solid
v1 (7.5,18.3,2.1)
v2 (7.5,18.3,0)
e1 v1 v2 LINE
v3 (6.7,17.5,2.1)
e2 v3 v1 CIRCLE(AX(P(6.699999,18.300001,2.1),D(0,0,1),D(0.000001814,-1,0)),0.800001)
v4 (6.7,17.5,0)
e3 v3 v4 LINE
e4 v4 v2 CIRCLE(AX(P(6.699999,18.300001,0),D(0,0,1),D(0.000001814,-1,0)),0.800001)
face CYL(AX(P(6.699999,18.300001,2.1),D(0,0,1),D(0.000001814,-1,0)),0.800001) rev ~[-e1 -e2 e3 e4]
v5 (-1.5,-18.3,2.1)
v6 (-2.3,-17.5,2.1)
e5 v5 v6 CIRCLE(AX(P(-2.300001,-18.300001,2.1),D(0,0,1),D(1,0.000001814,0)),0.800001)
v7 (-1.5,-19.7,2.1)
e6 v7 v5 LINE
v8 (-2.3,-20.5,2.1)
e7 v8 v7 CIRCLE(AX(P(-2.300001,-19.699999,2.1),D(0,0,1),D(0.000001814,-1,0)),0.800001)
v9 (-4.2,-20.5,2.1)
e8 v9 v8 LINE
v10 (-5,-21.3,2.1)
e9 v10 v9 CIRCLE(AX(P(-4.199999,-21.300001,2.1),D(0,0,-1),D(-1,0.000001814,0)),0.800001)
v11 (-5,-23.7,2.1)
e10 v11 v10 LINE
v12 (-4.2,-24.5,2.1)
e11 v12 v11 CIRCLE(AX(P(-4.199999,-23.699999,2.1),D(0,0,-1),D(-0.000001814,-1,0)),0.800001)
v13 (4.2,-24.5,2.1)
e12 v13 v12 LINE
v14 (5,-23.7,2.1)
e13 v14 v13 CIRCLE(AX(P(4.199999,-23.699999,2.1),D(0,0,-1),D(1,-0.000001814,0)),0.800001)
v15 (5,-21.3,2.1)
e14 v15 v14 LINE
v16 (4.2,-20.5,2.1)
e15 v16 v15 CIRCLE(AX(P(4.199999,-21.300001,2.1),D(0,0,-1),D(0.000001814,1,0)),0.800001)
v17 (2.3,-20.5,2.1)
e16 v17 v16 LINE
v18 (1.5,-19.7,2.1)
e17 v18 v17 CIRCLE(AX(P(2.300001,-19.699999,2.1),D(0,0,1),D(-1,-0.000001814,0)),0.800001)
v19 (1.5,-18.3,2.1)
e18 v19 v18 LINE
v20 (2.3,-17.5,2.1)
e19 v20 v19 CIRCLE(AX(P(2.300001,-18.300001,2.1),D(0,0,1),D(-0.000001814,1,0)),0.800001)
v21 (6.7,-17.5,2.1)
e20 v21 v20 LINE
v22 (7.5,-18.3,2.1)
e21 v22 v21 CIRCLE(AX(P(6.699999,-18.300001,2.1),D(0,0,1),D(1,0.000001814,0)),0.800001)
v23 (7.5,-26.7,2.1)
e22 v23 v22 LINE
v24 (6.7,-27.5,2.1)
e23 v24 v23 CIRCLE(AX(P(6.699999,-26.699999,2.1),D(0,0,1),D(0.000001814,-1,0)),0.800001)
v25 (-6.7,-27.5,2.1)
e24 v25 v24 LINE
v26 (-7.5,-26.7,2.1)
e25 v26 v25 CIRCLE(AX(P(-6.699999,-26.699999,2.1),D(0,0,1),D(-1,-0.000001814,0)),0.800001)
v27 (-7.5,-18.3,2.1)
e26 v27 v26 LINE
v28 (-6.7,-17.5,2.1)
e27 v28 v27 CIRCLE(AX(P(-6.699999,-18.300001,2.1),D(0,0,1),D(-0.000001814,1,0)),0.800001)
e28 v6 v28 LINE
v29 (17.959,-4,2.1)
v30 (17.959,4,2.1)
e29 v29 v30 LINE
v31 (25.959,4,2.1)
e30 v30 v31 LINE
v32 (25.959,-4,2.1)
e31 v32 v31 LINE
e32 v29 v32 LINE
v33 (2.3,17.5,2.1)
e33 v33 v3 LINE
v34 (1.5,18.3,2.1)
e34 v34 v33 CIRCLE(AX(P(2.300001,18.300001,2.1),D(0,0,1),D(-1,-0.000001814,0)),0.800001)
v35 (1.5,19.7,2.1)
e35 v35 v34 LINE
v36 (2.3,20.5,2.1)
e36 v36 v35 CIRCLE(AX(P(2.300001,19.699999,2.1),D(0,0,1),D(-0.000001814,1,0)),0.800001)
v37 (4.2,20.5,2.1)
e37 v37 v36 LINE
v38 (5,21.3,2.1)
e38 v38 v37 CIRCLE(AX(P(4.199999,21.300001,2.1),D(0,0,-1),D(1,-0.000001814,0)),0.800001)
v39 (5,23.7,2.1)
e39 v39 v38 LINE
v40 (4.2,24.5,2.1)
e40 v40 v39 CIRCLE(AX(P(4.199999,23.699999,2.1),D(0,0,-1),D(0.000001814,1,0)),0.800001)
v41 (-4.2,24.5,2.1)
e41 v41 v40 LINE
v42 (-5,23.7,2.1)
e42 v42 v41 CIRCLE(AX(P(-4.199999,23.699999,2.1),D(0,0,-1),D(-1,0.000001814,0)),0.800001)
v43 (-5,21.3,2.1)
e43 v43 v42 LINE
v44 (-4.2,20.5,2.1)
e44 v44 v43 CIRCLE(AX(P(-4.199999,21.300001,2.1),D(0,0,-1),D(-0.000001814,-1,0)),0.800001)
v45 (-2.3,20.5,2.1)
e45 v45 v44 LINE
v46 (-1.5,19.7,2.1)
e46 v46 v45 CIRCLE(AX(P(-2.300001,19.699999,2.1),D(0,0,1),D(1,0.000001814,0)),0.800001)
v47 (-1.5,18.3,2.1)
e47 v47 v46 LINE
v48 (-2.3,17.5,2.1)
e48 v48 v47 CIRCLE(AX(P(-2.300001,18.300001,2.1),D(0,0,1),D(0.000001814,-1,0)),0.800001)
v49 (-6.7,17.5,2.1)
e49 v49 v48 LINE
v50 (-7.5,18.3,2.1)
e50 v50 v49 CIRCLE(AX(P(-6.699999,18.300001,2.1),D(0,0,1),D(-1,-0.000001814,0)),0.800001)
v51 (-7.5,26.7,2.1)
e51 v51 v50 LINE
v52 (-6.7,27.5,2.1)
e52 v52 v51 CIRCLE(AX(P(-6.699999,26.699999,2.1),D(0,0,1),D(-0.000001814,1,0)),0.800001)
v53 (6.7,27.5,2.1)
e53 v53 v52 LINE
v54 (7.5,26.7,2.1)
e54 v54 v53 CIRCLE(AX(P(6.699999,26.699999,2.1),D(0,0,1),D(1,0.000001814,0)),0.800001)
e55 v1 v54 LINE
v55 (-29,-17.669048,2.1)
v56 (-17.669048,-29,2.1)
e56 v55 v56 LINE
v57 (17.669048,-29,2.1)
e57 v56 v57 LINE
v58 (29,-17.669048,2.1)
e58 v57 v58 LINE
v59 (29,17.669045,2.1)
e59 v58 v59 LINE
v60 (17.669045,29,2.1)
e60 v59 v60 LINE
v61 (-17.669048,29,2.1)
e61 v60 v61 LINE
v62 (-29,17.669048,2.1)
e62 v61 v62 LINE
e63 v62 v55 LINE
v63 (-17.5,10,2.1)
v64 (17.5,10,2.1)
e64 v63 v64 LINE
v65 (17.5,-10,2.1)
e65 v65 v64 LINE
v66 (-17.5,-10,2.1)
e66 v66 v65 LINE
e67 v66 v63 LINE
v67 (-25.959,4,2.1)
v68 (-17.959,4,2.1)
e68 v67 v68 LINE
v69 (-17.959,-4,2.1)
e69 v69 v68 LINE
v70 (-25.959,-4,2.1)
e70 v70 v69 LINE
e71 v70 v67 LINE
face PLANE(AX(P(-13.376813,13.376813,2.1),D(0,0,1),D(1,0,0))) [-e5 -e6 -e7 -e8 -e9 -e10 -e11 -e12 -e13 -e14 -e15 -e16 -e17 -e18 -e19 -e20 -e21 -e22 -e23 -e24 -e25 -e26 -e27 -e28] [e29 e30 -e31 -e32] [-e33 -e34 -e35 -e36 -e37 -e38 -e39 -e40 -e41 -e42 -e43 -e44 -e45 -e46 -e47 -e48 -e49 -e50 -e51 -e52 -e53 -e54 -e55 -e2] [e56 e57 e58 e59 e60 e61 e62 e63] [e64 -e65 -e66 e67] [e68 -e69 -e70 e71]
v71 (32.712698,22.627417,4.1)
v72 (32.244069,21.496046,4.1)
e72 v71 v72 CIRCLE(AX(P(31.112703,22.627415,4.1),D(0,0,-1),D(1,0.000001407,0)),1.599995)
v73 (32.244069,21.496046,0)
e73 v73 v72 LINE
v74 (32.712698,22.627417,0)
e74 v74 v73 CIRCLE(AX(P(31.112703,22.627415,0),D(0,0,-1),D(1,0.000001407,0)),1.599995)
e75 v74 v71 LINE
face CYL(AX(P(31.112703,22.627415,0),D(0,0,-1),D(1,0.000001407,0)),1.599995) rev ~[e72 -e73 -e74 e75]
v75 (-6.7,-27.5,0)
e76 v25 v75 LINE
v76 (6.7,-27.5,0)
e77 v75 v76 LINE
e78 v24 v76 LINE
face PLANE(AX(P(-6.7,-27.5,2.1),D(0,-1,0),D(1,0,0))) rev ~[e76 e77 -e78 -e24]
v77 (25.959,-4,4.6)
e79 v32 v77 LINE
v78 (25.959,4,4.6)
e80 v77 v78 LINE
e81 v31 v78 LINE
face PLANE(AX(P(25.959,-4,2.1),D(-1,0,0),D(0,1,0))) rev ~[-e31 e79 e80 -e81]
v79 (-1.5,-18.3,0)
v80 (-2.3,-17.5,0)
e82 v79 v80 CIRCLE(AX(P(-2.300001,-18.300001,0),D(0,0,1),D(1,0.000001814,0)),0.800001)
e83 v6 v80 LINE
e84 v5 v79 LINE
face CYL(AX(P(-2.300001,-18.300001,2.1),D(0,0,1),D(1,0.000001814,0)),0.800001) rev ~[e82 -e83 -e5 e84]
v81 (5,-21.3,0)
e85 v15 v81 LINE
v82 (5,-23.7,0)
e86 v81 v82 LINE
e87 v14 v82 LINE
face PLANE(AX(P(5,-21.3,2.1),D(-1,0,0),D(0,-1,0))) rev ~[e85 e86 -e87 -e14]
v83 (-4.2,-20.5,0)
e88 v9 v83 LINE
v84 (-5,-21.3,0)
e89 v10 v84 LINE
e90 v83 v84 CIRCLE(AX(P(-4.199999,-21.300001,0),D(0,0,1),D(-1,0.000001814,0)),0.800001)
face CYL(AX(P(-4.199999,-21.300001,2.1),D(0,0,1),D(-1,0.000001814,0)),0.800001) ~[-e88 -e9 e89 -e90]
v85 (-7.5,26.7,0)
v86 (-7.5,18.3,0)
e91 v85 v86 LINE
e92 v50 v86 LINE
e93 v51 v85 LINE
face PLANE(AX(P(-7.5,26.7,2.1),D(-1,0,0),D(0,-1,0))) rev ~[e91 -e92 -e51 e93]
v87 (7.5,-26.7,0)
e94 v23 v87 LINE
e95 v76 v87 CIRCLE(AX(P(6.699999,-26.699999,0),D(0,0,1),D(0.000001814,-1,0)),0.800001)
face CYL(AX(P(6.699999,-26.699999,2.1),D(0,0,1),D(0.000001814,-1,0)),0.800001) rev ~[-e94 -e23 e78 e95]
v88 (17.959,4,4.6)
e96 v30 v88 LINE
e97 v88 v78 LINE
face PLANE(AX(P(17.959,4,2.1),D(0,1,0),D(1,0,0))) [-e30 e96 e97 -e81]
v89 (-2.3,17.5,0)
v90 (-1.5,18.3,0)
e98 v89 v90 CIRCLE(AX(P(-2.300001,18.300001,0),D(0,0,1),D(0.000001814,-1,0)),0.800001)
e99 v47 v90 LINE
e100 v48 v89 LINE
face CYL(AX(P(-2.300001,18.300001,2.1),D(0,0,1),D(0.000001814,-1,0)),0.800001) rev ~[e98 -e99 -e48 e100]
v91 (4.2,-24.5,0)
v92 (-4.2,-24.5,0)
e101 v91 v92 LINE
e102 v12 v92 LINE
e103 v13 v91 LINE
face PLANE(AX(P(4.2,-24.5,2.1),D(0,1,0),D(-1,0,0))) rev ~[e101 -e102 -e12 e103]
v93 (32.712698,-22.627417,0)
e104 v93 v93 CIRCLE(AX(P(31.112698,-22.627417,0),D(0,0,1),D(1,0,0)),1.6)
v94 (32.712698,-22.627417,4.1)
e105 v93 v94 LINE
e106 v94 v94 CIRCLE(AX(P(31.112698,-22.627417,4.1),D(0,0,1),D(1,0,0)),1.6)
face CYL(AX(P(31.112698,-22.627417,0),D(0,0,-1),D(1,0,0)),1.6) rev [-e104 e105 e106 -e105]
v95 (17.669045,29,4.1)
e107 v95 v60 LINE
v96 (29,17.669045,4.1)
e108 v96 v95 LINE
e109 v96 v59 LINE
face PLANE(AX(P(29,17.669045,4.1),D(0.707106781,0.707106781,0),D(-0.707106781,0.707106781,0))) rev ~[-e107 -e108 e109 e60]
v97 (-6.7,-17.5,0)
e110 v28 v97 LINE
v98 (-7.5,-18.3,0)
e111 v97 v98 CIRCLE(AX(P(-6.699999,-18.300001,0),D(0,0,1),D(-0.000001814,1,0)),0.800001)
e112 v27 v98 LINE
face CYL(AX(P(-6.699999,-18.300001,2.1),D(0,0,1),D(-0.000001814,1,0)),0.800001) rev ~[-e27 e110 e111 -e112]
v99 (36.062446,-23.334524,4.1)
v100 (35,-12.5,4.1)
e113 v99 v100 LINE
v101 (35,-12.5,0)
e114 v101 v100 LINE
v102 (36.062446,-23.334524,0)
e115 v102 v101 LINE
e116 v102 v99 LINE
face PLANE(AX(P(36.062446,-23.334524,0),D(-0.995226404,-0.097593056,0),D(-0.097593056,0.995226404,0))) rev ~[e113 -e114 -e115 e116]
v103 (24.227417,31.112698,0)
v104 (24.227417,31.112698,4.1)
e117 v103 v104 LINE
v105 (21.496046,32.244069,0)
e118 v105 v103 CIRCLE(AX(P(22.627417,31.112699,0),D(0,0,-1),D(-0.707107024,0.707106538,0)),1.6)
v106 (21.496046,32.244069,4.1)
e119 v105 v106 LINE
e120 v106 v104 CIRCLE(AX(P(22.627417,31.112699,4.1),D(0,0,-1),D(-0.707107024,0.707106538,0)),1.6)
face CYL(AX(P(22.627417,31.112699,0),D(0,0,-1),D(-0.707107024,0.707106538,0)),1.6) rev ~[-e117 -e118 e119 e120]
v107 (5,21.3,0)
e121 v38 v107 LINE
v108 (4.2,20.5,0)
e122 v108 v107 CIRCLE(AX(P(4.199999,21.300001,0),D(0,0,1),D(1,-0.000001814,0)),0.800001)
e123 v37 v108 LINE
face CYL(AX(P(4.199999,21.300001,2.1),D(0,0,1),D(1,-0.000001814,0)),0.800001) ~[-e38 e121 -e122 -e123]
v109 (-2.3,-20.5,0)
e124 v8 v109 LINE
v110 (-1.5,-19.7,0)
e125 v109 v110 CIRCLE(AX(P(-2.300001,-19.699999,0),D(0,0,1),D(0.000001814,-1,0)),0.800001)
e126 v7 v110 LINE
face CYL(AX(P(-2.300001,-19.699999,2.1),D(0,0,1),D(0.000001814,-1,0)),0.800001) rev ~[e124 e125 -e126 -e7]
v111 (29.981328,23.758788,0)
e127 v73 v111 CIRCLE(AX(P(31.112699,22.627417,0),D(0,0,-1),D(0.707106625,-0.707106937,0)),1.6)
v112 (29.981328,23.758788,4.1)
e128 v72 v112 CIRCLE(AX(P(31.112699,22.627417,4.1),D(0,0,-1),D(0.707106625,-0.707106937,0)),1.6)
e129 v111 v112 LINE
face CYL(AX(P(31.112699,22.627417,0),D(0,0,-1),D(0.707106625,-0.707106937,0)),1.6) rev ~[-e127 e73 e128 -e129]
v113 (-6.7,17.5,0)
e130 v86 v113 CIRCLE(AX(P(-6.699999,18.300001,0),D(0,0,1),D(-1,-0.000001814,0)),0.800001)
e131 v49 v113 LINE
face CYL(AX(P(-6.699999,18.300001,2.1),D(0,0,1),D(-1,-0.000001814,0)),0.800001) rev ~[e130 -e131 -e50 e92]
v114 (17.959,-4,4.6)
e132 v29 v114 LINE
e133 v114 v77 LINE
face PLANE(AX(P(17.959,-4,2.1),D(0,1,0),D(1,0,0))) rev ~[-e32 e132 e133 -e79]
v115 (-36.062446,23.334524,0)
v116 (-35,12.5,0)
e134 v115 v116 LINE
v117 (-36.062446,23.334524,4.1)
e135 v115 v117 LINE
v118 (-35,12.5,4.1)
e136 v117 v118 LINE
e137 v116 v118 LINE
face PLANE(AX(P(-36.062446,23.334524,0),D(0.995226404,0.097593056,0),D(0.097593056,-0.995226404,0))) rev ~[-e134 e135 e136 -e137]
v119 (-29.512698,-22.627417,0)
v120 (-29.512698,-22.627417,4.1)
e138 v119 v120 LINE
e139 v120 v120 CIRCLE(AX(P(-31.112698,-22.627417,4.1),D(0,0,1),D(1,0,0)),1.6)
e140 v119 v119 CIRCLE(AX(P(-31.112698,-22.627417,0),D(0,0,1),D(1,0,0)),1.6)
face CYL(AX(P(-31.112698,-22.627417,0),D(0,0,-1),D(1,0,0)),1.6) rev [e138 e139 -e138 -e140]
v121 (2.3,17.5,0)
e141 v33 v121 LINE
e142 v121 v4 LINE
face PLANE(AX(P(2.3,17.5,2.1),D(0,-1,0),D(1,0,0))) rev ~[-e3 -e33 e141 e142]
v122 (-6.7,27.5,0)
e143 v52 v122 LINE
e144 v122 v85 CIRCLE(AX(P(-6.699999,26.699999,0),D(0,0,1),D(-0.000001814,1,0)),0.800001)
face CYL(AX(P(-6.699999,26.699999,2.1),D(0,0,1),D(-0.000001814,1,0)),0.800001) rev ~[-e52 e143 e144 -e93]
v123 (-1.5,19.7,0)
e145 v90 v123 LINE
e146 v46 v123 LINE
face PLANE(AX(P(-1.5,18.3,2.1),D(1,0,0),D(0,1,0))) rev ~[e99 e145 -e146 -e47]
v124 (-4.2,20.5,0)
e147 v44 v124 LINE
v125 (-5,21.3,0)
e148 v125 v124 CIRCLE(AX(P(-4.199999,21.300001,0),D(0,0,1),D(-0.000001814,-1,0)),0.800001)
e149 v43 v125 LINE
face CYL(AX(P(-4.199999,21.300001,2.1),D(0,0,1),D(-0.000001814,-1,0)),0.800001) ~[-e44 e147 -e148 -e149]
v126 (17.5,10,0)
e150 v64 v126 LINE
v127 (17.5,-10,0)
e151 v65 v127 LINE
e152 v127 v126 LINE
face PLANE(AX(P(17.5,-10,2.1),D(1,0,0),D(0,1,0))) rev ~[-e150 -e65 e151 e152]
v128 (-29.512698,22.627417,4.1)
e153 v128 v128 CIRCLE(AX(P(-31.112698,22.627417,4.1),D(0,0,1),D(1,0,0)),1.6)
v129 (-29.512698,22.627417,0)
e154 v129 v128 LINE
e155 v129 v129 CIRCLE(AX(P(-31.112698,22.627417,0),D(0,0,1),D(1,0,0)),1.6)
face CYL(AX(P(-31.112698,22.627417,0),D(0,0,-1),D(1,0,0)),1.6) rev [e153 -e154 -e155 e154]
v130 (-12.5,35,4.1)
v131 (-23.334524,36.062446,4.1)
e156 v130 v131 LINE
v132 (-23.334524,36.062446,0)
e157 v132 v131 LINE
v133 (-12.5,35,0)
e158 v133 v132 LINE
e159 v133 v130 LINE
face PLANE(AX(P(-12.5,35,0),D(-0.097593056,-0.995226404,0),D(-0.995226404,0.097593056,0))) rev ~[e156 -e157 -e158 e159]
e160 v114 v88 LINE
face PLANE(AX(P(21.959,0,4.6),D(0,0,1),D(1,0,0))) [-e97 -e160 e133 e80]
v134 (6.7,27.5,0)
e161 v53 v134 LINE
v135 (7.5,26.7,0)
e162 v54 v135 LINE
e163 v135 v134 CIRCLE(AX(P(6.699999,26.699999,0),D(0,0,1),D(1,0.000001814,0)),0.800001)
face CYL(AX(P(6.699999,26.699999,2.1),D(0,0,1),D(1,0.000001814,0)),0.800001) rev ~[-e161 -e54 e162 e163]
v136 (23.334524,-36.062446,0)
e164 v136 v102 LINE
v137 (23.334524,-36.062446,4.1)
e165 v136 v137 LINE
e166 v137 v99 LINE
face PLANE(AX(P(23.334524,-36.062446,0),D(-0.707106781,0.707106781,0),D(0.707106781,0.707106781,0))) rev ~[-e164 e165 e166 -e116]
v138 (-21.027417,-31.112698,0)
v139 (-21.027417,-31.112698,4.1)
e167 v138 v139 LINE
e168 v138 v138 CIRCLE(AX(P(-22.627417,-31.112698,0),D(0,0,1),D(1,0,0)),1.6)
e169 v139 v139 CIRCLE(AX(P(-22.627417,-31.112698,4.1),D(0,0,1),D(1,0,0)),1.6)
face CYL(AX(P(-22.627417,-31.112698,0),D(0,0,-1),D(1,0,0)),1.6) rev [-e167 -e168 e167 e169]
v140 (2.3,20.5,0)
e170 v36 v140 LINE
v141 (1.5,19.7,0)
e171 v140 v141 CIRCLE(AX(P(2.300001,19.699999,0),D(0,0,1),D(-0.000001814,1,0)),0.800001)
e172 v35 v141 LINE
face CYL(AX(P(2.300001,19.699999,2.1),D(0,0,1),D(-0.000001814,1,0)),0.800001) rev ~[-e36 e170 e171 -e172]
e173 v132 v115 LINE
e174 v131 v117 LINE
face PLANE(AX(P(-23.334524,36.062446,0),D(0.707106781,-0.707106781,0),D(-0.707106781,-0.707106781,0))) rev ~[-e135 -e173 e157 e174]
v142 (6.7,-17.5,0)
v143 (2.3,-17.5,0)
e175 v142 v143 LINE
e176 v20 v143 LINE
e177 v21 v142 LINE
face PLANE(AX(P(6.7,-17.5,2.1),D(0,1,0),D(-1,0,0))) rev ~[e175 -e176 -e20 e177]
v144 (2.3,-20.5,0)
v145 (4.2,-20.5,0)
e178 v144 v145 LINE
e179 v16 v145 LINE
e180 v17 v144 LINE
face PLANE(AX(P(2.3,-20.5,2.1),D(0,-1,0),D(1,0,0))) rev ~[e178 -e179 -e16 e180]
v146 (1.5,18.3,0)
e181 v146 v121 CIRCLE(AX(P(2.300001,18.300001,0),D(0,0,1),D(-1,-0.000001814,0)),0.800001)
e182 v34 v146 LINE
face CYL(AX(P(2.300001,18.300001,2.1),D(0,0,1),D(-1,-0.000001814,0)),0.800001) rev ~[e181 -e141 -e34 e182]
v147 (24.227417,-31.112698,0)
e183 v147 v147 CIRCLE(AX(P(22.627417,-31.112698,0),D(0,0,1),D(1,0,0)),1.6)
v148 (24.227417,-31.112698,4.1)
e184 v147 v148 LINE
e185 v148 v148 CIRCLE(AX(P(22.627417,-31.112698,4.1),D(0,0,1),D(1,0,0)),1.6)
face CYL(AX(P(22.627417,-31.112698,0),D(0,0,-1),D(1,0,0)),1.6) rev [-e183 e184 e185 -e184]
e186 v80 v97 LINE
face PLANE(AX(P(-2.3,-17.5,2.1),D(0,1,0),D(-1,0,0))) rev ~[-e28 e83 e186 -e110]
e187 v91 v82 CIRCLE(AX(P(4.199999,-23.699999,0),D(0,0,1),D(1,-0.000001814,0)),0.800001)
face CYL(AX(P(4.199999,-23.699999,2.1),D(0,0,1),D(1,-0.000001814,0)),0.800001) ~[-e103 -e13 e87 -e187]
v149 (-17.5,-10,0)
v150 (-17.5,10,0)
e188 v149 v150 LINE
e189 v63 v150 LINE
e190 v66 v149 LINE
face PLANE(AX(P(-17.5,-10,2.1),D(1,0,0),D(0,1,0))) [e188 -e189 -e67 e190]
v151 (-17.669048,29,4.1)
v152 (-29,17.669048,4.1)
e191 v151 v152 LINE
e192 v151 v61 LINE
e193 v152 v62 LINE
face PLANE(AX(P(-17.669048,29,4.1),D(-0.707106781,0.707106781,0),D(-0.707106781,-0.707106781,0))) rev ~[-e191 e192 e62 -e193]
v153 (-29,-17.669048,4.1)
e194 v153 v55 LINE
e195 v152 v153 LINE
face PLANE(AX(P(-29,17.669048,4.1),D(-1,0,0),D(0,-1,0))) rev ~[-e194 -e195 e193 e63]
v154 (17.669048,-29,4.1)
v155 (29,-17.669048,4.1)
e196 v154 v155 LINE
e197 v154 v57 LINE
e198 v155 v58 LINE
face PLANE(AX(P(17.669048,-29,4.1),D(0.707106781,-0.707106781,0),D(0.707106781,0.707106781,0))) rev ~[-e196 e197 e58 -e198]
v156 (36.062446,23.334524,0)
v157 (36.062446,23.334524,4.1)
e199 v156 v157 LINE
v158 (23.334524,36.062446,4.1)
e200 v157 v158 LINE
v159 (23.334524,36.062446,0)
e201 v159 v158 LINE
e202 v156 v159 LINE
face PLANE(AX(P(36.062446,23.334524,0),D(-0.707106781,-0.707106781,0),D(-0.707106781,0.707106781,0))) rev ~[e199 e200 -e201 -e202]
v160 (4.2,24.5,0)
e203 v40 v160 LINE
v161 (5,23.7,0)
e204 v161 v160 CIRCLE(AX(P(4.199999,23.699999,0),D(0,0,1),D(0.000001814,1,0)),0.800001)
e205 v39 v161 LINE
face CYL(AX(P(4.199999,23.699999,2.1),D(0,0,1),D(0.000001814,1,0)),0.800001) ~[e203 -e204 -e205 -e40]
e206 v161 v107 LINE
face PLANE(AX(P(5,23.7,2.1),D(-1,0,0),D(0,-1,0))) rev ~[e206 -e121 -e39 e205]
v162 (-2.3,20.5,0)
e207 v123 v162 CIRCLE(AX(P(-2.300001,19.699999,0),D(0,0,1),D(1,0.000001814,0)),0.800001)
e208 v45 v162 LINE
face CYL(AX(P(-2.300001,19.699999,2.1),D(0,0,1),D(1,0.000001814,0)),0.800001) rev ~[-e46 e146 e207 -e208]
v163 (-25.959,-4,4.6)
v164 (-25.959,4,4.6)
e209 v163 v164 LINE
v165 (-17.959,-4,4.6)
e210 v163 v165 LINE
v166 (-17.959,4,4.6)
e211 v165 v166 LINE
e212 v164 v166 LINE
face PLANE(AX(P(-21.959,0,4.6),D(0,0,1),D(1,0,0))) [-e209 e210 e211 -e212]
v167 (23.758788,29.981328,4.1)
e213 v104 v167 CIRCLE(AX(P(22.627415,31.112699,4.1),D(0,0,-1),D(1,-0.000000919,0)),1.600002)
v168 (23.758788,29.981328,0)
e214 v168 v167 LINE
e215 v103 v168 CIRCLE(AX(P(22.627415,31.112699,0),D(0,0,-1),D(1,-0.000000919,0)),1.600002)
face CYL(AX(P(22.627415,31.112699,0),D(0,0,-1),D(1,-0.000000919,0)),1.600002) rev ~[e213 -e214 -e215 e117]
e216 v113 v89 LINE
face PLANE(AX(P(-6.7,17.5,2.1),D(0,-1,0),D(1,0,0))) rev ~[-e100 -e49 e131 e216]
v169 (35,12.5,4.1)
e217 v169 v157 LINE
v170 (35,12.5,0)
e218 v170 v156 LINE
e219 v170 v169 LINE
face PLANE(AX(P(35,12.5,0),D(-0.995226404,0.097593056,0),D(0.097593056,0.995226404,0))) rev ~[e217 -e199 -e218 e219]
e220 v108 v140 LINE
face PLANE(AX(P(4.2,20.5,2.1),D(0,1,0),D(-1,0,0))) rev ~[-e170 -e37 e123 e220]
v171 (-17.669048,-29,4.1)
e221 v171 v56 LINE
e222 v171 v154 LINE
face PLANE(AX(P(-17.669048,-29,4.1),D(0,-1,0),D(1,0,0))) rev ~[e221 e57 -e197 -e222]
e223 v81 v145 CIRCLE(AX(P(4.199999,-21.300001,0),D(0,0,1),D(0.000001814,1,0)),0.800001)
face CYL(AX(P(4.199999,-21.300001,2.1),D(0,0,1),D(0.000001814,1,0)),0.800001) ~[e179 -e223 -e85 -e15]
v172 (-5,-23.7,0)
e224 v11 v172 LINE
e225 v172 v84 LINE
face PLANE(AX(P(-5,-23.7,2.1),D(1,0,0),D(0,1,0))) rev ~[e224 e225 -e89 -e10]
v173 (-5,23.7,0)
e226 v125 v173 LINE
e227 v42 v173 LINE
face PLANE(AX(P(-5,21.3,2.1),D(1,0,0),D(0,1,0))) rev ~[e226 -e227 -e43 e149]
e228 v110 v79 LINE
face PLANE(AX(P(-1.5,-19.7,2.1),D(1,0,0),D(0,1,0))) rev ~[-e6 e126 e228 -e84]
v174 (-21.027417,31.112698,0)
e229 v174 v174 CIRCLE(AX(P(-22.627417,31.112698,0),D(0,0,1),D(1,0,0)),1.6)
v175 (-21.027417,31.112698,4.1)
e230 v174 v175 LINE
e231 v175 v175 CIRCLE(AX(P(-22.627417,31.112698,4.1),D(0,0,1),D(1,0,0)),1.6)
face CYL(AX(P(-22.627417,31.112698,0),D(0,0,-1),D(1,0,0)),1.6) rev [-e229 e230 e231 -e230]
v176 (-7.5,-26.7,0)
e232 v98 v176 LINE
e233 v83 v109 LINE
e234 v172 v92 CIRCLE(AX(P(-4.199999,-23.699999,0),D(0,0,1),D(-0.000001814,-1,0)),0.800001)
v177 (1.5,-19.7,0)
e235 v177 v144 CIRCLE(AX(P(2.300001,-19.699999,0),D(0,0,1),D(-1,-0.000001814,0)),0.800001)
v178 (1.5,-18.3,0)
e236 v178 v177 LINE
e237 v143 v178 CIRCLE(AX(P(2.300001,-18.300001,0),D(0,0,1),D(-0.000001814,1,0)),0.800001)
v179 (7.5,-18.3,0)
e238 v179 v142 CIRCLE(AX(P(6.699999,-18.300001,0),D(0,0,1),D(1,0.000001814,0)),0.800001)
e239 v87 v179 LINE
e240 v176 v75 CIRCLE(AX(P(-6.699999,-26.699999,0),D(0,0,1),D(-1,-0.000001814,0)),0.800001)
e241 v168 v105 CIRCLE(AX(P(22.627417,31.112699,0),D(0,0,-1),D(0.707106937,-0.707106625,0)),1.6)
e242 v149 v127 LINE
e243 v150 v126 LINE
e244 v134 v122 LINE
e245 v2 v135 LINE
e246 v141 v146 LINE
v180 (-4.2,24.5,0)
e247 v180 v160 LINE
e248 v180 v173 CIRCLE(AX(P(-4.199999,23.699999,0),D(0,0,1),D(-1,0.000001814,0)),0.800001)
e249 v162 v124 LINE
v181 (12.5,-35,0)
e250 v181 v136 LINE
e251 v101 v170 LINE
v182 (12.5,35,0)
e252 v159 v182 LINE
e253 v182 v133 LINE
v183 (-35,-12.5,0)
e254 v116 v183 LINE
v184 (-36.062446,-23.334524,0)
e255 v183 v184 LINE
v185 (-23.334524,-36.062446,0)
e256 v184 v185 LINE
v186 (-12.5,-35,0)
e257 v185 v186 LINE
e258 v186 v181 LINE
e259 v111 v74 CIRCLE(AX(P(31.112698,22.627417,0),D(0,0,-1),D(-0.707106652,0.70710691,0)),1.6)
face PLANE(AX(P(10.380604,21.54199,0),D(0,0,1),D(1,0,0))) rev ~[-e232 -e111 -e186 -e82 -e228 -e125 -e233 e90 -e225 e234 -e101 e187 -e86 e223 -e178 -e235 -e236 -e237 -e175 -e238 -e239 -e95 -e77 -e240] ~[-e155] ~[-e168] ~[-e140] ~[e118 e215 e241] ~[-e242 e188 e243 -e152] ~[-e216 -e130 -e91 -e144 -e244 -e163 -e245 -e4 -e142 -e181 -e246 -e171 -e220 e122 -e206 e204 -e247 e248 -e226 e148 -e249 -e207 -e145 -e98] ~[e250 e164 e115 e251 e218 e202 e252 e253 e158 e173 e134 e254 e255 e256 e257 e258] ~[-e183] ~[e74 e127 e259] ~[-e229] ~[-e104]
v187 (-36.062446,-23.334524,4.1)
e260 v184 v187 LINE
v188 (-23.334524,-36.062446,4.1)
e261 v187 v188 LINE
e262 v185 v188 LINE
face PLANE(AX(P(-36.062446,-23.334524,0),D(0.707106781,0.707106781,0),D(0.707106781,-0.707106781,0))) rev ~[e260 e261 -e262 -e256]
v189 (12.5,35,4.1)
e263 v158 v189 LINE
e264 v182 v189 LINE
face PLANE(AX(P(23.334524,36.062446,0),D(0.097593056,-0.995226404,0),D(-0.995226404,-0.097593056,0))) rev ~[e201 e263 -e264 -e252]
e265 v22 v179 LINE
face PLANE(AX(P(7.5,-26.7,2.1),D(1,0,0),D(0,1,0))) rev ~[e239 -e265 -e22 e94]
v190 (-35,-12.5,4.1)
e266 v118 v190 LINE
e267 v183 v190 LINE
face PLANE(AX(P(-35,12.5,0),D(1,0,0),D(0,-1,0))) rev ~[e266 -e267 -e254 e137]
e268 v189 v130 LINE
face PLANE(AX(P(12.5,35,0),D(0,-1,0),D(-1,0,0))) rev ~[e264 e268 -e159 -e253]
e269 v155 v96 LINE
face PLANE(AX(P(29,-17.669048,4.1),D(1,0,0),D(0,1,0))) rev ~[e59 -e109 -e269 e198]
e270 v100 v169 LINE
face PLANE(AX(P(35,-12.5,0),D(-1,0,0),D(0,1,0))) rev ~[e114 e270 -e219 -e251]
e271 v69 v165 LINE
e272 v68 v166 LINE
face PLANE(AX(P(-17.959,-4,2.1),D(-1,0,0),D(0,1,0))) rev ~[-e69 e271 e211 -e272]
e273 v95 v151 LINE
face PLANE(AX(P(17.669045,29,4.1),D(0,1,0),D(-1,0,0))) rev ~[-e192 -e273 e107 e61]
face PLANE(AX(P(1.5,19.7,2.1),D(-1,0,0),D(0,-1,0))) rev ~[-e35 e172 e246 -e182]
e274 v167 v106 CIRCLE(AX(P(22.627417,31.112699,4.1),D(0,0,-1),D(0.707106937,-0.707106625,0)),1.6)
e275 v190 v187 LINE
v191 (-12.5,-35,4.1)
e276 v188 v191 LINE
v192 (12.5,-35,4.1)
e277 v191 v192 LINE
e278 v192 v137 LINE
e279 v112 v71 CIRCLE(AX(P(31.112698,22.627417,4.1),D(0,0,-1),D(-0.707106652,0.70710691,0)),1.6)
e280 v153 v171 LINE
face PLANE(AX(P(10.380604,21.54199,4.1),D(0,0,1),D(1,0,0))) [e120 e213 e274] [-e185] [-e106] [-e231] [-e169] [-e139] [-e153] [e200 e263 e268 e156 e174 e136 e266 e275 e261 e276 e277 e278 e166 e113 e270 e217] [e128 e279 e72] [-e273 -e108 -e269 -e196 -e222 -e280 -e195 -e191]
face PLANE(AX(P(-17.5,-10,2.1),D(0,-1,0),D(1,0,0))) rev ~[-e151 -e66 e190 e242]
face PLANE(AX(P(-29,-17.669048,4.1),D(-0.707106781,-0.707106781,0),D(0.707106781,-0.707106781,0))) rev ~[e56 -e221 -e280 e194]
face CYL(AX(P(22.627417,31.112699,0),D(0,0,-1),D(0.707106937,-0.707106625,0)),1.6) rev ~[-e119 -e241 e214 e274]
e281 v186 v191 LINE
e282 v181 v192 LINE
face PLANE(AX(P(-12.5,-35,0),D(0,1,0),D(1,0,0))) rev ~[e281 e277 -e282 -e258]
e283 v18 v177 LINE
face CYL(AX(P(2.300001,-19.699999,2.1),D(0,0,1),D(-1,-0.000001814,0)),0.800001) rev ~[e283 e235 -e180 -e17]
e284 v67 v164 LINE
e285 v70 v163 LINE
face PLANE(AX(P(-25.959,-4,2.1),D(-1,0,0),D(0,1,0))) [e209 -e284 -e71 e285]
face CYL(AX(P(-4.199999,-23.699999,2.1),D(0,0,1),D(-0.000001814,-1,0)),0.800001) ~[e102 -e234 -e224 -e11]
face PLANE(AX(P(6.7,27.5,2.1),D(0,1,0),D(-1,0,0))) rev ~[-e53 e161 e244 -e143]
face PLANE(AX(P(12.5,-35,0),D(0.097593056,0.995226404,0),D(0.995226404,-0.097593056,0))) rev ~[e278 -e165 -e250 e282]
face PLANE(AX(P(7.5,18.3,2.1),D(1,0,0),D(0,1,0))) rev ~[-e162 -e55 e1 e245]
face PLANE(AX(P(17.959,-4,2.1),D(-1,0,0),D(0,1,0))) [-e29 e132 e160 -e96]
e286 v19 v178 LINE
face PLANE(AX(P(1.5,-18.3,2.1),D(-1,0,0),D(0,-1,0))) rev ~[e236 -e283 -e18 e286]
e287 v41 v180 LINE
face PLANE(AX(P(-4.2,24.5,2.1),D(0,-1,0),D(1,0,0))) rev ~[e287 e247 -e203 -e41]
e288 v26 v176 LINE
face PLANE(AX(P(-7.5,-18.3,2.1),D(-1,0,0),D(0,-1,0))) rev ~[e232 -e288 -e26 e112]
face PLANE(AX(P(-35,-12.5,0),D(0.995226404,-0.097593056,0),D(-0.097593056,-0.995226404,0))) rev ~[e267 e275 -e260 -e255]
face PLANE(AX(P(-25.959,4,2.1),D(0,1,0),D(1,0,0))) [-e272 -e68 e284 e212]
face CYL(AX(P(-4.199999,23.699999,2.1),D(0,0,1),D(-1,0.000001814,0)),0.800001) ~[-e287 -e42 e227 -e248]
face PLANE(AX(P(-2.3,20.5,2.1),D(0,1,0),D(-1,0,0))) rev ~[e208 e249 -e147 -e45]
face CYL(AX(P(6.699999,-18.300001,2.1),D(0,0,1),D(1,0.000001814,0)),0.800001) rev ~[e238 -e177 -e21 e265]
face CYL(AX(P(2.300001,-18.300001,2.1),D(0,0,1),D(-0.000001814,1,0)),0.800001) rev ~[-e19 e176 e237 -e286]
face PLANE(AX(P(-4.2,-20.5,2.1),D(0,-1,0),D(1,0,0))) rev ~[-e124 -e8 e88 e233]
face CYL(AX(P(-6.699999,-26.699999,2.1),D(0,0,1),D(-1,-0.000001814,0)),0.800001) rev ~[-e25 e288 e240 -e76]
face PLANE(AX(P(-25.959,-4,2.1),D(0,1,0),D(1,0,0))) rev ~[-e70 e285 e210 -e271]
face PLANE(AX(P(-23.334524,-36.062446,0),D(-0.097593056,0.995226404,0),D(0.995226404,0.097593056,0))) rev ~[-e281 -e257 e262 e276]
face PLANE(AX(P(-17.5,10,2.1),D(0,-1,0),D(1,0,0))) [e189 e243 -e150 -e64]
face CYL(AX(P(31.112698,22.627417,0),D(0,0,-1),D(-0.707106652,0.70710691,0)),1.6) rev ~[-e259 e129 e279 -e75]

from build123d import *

# Parameters (mm, degrees)
F0_R     = 1.6
F1_DEPTH = 4.1
F3_DEPTH = 2
F5_DEPTH = 2.101
F6_W     = 35
F6_H     = 20
F7_DEPTH = 2.101
F8_W     = 8
F8_H     = 8
F9_DEPTH = 2.5


with BuildPart() as f1:
    # F0 (on Top) → F1 (new body)
    with BuildSketch(Plane.XY):
        Polygon((0, 35), (0, 0), (26.870058, 26.870058), (29.698485, 29.698485), (23.334524, 36.062446), (12.5, 35), align=None)
        with BuildLine():
            ThreePointArc((24.227417, 31.112698), (24.105624, 30.500405), (23.758788, 29.981328))
            ThreePointArc((23.758788, 29.981328), (21.496046, 29.981328), (21.496046, 32.244069))
            ThreePointArc((21.496046, 32.244069), (23.23971, 32.590906), (24.227417, 31.112698))
        make_face(mode=Mode.SUBTRACT)
        Polygon((0, -35), (0, 0), (0, 35), (-12.5, 35), (-23.334524, 36.062446), (-36.062446, 23.334524), (-35, 12.5), (-35, -12.5), (-36.062446, -23.334524), (-23.334524, -36.062446), (-12.5, -35), align=None)
        with Locations((-22.627417, -31.112698)):
            Circle(F0_R, mode=Mode.SUBTRACT)
        with Locations((-31.112698, -22.627417)):
            Circle(F0_R, mode=Mode.SUBTRACT)
        with Locations((-31.112698, 22.627417)):
            Circle(F0_R, mode=Mode.SUBTRACT)
        with Locations((-22.627417, 31.112698)):
            Circle(F0_R, mode=Mode.SUBTRACT)
        Polygon((26.870058, 26.870058), (0, 0), (0, -35), (12.5, -35), (23.334524, -36.062446), (36.062446, -23.334524), (35, -12.5), (35, 12.5), (36.062446, 23.334524), (29.698485, 29.698485), align=None)
        with Locations((22.627417, -31.112698)):
            Circle(F0_R, mode=Mode.SUBTRACT)
        with Locations((31.112698, -22.627417)):
            Circle(F0_R, mode=Mode.SUBTRACT)
        with BuildLine():
            ThreePointArc((32.244069, 21.496046), (29.981328, 21.496046), (29.981328, 23.758788))
            ThreePointArc((29.981328, 23.758788), (31.724992, 24.105624), (32.712698, 22.627417))
            ThreePointArc((32.712698, 22.627417), (32.590906, 22.015124), (32.244069, 21.496046))
        make_face(mode=Mode.SUBTRACT)
    extrude(amount=F1_DEPTH)

    # F2 (on face) → F3 (cut)
    with BuildSketch(Plane.XY.offset(4.1)):
        Polygon((-29, 17.669048), (-29, 0), (0, 0), (0, 29), (-17.669048, 29), align=None)
        Polygon((0, 0), (-29, 0), (-29, -17.669048), (-17.669048, -29), (17.669048, -29), (29, -17.669048), (29, 17.669045), (17.669045, 29), (0, 29), align=None)
    extrude(amount=-F3_DEPTH, mode=Mode.SUBTRACT)

    # F4 (on face) → F5 (cut, through all)
    with BuildSketch(Plane.XY.offset(2.1)):
        with BuildLine():
            Line((6.7, 27.5), (0, 27.5))
            Line((0, 27.5), (0, 24.5))
            Line((0, 24.5), (4.2, 24.5))
            ThreePointArc((4.2, 24.5), (4.765685, 24.265685), (5, 23.7))
            Line((5, 23.7), (5, 21.3))
            ThreePointArc((5, 21.3), (4.765685, 20.734315), (4.2, 20.5))
            Line((4.2, 20.5), (2.3, 20.5))
            ThreePointArc((2.3, 20.5), (1.734315, 20.265685), (1.5, 19.7))
            Line((1.5, 19.7), (1.5, 18.3))
            ThreePointArc((1.5, 18.3), (1.734315, 17.734315), (2.3, 17.5))
            Line((2.3, 17.5), (6.7, 17.5))
            ThreePointArc((6.7, 17.5), (7.265685, 17.734315), (7.5, 18.3))
            Line((7.5, 18.3), (7.5, 26.7))
            ThreePointArc((7.5, 26.7), (7.265685, 27.265685), (6.7, 27.5))
        make_face()
        with BuildLine():
            Line((0, 24.5), (0, 27.5))
            Line((0, 27.5), (-6.7, 27.5))
            ThreePointArc((-6.7, 27.5), (-7.265685, 27.265685), (-7.5, 26.7))
            Line((-7.5, 26.7), (-7.5, 18.3))
            ThreePointArc((-7.5, 18.3), (-7.265685, 17.734315), (-6.7, 17.5))
            Line((-6.7, 17.5), (-2.3, 17.5))
            ThreePointArc((-2.3, 17.5), (-1.734315, 17.734315), (-1.5, 18.3))
            Line((-1.5, 18.3), (-1.5, 19.7))
            ThreePointArc((-1.5, 19.7), (-1.734315, 20.265685), (-2.3, 20.5))
            Line((-2.3, 20.5), (-4.2, 20.5))
            ThreePointArc((-4.2, 20.5), (-4.765685, 20.734315), (-5, 21.3))
            Line((-5, 21.3), (-5, 23.7))
            ThreePointArc((-5, 23.7), (-4.765685, 24.265685), (-4.2, 24.5))
            Line((-4.2, 24.5), (0, 24.5))
        make_face()
        with BuildLine():
            Line((-4.2, -20.5), (-2.3, -20.5))
            ThreePointArc((-2.3, -20.5), (-1.734315, -20.265685), (-1.5, -19.7))
            Line((-1.5, -19.7), (-1.5, -18.3))
            ThreePointArc((-1.5, -18.3), (-1.734315, -17.734315), (-2.3, -17.5))
            Line((-2.3, -17.5), (-6.7, -17.5))
            ThreePointArc((-6.7, -17.5), (-7.265685, -17.734315), (-7.5, -18.3))
            Line((-7.5, -18.3), (-7.5, -26.7))
            ThreePointArc((-7.5, -26.7), (-7.265685, -27.265685), (-6.7, -27.5))
            Line((-6.7, -27.5), (6.7, -27.5))
            ThreePointArc((6.7, -27.5), (7.265685, -27.265685), (7.5, -26.7))
            Line((7.5, -26.7), (7.5, -18.3))
            ThreePointArc((7.5, -18.3), (7.265685, -17.734315), (6.7, -17.5))
            Line((6.7, -17.5), (2.3, -17.5))
            ThreePointArc((2.3, -17.5), (1.734315, -17.734315), (1.5, -18.3))
            Line((1.5, -18.3), (1.5, -19.7))
            ThreePointArc((1.5, -19.7), (1.734315, -20.265685), (2.3, -20.5))
            Line((2.3, -20.5), (4.2, -20.5))
            ThreePointArc((4.2, -20.5), (4.765685, -20.734315), (5, -21.3))
            Line((5, -21.3), (5, -23.7))
            ThreePointArc((5, -23.7), (4.765685, -24.265685), (4.2, -24.5))
            Line((4.2, -24.5), (-4.2, -24.5))
            ThreePointArc((-4.2, -24.5), (-4.765685, -24.265685), (-5, -23.7))
            Line((-5, -23.7), (-5, -21.3))
            ThreePointArc((-5, -21.3), (-4.765685, -20.734315), (-4.2, -20.5))
        make_face()
    extrude(amount=-F5_DEPTH, mode=Mode.SUBTRACT)

    # F6 (on face) → F7 (cut, through all)
    with BuildSketch(Plane.XY.offset(2.1)):
        Rectangle(F6_W, F6_H)
    extrude(amount=-F7_DEPTH, mode=Mode.SUBTRACT)

    # F8 (on face) → F9 (join)
    with BuildSketch(Plane.XY.offset(2.1)):
        with Locations((-21.959, 0)):
            Rectangle(F8_W, F8_H)
        with Locations((21.959, 0)):
            Rectangle(F8_W, F8_H)
    extrude(amount=F9_DEPTH)


solid = f1.part
